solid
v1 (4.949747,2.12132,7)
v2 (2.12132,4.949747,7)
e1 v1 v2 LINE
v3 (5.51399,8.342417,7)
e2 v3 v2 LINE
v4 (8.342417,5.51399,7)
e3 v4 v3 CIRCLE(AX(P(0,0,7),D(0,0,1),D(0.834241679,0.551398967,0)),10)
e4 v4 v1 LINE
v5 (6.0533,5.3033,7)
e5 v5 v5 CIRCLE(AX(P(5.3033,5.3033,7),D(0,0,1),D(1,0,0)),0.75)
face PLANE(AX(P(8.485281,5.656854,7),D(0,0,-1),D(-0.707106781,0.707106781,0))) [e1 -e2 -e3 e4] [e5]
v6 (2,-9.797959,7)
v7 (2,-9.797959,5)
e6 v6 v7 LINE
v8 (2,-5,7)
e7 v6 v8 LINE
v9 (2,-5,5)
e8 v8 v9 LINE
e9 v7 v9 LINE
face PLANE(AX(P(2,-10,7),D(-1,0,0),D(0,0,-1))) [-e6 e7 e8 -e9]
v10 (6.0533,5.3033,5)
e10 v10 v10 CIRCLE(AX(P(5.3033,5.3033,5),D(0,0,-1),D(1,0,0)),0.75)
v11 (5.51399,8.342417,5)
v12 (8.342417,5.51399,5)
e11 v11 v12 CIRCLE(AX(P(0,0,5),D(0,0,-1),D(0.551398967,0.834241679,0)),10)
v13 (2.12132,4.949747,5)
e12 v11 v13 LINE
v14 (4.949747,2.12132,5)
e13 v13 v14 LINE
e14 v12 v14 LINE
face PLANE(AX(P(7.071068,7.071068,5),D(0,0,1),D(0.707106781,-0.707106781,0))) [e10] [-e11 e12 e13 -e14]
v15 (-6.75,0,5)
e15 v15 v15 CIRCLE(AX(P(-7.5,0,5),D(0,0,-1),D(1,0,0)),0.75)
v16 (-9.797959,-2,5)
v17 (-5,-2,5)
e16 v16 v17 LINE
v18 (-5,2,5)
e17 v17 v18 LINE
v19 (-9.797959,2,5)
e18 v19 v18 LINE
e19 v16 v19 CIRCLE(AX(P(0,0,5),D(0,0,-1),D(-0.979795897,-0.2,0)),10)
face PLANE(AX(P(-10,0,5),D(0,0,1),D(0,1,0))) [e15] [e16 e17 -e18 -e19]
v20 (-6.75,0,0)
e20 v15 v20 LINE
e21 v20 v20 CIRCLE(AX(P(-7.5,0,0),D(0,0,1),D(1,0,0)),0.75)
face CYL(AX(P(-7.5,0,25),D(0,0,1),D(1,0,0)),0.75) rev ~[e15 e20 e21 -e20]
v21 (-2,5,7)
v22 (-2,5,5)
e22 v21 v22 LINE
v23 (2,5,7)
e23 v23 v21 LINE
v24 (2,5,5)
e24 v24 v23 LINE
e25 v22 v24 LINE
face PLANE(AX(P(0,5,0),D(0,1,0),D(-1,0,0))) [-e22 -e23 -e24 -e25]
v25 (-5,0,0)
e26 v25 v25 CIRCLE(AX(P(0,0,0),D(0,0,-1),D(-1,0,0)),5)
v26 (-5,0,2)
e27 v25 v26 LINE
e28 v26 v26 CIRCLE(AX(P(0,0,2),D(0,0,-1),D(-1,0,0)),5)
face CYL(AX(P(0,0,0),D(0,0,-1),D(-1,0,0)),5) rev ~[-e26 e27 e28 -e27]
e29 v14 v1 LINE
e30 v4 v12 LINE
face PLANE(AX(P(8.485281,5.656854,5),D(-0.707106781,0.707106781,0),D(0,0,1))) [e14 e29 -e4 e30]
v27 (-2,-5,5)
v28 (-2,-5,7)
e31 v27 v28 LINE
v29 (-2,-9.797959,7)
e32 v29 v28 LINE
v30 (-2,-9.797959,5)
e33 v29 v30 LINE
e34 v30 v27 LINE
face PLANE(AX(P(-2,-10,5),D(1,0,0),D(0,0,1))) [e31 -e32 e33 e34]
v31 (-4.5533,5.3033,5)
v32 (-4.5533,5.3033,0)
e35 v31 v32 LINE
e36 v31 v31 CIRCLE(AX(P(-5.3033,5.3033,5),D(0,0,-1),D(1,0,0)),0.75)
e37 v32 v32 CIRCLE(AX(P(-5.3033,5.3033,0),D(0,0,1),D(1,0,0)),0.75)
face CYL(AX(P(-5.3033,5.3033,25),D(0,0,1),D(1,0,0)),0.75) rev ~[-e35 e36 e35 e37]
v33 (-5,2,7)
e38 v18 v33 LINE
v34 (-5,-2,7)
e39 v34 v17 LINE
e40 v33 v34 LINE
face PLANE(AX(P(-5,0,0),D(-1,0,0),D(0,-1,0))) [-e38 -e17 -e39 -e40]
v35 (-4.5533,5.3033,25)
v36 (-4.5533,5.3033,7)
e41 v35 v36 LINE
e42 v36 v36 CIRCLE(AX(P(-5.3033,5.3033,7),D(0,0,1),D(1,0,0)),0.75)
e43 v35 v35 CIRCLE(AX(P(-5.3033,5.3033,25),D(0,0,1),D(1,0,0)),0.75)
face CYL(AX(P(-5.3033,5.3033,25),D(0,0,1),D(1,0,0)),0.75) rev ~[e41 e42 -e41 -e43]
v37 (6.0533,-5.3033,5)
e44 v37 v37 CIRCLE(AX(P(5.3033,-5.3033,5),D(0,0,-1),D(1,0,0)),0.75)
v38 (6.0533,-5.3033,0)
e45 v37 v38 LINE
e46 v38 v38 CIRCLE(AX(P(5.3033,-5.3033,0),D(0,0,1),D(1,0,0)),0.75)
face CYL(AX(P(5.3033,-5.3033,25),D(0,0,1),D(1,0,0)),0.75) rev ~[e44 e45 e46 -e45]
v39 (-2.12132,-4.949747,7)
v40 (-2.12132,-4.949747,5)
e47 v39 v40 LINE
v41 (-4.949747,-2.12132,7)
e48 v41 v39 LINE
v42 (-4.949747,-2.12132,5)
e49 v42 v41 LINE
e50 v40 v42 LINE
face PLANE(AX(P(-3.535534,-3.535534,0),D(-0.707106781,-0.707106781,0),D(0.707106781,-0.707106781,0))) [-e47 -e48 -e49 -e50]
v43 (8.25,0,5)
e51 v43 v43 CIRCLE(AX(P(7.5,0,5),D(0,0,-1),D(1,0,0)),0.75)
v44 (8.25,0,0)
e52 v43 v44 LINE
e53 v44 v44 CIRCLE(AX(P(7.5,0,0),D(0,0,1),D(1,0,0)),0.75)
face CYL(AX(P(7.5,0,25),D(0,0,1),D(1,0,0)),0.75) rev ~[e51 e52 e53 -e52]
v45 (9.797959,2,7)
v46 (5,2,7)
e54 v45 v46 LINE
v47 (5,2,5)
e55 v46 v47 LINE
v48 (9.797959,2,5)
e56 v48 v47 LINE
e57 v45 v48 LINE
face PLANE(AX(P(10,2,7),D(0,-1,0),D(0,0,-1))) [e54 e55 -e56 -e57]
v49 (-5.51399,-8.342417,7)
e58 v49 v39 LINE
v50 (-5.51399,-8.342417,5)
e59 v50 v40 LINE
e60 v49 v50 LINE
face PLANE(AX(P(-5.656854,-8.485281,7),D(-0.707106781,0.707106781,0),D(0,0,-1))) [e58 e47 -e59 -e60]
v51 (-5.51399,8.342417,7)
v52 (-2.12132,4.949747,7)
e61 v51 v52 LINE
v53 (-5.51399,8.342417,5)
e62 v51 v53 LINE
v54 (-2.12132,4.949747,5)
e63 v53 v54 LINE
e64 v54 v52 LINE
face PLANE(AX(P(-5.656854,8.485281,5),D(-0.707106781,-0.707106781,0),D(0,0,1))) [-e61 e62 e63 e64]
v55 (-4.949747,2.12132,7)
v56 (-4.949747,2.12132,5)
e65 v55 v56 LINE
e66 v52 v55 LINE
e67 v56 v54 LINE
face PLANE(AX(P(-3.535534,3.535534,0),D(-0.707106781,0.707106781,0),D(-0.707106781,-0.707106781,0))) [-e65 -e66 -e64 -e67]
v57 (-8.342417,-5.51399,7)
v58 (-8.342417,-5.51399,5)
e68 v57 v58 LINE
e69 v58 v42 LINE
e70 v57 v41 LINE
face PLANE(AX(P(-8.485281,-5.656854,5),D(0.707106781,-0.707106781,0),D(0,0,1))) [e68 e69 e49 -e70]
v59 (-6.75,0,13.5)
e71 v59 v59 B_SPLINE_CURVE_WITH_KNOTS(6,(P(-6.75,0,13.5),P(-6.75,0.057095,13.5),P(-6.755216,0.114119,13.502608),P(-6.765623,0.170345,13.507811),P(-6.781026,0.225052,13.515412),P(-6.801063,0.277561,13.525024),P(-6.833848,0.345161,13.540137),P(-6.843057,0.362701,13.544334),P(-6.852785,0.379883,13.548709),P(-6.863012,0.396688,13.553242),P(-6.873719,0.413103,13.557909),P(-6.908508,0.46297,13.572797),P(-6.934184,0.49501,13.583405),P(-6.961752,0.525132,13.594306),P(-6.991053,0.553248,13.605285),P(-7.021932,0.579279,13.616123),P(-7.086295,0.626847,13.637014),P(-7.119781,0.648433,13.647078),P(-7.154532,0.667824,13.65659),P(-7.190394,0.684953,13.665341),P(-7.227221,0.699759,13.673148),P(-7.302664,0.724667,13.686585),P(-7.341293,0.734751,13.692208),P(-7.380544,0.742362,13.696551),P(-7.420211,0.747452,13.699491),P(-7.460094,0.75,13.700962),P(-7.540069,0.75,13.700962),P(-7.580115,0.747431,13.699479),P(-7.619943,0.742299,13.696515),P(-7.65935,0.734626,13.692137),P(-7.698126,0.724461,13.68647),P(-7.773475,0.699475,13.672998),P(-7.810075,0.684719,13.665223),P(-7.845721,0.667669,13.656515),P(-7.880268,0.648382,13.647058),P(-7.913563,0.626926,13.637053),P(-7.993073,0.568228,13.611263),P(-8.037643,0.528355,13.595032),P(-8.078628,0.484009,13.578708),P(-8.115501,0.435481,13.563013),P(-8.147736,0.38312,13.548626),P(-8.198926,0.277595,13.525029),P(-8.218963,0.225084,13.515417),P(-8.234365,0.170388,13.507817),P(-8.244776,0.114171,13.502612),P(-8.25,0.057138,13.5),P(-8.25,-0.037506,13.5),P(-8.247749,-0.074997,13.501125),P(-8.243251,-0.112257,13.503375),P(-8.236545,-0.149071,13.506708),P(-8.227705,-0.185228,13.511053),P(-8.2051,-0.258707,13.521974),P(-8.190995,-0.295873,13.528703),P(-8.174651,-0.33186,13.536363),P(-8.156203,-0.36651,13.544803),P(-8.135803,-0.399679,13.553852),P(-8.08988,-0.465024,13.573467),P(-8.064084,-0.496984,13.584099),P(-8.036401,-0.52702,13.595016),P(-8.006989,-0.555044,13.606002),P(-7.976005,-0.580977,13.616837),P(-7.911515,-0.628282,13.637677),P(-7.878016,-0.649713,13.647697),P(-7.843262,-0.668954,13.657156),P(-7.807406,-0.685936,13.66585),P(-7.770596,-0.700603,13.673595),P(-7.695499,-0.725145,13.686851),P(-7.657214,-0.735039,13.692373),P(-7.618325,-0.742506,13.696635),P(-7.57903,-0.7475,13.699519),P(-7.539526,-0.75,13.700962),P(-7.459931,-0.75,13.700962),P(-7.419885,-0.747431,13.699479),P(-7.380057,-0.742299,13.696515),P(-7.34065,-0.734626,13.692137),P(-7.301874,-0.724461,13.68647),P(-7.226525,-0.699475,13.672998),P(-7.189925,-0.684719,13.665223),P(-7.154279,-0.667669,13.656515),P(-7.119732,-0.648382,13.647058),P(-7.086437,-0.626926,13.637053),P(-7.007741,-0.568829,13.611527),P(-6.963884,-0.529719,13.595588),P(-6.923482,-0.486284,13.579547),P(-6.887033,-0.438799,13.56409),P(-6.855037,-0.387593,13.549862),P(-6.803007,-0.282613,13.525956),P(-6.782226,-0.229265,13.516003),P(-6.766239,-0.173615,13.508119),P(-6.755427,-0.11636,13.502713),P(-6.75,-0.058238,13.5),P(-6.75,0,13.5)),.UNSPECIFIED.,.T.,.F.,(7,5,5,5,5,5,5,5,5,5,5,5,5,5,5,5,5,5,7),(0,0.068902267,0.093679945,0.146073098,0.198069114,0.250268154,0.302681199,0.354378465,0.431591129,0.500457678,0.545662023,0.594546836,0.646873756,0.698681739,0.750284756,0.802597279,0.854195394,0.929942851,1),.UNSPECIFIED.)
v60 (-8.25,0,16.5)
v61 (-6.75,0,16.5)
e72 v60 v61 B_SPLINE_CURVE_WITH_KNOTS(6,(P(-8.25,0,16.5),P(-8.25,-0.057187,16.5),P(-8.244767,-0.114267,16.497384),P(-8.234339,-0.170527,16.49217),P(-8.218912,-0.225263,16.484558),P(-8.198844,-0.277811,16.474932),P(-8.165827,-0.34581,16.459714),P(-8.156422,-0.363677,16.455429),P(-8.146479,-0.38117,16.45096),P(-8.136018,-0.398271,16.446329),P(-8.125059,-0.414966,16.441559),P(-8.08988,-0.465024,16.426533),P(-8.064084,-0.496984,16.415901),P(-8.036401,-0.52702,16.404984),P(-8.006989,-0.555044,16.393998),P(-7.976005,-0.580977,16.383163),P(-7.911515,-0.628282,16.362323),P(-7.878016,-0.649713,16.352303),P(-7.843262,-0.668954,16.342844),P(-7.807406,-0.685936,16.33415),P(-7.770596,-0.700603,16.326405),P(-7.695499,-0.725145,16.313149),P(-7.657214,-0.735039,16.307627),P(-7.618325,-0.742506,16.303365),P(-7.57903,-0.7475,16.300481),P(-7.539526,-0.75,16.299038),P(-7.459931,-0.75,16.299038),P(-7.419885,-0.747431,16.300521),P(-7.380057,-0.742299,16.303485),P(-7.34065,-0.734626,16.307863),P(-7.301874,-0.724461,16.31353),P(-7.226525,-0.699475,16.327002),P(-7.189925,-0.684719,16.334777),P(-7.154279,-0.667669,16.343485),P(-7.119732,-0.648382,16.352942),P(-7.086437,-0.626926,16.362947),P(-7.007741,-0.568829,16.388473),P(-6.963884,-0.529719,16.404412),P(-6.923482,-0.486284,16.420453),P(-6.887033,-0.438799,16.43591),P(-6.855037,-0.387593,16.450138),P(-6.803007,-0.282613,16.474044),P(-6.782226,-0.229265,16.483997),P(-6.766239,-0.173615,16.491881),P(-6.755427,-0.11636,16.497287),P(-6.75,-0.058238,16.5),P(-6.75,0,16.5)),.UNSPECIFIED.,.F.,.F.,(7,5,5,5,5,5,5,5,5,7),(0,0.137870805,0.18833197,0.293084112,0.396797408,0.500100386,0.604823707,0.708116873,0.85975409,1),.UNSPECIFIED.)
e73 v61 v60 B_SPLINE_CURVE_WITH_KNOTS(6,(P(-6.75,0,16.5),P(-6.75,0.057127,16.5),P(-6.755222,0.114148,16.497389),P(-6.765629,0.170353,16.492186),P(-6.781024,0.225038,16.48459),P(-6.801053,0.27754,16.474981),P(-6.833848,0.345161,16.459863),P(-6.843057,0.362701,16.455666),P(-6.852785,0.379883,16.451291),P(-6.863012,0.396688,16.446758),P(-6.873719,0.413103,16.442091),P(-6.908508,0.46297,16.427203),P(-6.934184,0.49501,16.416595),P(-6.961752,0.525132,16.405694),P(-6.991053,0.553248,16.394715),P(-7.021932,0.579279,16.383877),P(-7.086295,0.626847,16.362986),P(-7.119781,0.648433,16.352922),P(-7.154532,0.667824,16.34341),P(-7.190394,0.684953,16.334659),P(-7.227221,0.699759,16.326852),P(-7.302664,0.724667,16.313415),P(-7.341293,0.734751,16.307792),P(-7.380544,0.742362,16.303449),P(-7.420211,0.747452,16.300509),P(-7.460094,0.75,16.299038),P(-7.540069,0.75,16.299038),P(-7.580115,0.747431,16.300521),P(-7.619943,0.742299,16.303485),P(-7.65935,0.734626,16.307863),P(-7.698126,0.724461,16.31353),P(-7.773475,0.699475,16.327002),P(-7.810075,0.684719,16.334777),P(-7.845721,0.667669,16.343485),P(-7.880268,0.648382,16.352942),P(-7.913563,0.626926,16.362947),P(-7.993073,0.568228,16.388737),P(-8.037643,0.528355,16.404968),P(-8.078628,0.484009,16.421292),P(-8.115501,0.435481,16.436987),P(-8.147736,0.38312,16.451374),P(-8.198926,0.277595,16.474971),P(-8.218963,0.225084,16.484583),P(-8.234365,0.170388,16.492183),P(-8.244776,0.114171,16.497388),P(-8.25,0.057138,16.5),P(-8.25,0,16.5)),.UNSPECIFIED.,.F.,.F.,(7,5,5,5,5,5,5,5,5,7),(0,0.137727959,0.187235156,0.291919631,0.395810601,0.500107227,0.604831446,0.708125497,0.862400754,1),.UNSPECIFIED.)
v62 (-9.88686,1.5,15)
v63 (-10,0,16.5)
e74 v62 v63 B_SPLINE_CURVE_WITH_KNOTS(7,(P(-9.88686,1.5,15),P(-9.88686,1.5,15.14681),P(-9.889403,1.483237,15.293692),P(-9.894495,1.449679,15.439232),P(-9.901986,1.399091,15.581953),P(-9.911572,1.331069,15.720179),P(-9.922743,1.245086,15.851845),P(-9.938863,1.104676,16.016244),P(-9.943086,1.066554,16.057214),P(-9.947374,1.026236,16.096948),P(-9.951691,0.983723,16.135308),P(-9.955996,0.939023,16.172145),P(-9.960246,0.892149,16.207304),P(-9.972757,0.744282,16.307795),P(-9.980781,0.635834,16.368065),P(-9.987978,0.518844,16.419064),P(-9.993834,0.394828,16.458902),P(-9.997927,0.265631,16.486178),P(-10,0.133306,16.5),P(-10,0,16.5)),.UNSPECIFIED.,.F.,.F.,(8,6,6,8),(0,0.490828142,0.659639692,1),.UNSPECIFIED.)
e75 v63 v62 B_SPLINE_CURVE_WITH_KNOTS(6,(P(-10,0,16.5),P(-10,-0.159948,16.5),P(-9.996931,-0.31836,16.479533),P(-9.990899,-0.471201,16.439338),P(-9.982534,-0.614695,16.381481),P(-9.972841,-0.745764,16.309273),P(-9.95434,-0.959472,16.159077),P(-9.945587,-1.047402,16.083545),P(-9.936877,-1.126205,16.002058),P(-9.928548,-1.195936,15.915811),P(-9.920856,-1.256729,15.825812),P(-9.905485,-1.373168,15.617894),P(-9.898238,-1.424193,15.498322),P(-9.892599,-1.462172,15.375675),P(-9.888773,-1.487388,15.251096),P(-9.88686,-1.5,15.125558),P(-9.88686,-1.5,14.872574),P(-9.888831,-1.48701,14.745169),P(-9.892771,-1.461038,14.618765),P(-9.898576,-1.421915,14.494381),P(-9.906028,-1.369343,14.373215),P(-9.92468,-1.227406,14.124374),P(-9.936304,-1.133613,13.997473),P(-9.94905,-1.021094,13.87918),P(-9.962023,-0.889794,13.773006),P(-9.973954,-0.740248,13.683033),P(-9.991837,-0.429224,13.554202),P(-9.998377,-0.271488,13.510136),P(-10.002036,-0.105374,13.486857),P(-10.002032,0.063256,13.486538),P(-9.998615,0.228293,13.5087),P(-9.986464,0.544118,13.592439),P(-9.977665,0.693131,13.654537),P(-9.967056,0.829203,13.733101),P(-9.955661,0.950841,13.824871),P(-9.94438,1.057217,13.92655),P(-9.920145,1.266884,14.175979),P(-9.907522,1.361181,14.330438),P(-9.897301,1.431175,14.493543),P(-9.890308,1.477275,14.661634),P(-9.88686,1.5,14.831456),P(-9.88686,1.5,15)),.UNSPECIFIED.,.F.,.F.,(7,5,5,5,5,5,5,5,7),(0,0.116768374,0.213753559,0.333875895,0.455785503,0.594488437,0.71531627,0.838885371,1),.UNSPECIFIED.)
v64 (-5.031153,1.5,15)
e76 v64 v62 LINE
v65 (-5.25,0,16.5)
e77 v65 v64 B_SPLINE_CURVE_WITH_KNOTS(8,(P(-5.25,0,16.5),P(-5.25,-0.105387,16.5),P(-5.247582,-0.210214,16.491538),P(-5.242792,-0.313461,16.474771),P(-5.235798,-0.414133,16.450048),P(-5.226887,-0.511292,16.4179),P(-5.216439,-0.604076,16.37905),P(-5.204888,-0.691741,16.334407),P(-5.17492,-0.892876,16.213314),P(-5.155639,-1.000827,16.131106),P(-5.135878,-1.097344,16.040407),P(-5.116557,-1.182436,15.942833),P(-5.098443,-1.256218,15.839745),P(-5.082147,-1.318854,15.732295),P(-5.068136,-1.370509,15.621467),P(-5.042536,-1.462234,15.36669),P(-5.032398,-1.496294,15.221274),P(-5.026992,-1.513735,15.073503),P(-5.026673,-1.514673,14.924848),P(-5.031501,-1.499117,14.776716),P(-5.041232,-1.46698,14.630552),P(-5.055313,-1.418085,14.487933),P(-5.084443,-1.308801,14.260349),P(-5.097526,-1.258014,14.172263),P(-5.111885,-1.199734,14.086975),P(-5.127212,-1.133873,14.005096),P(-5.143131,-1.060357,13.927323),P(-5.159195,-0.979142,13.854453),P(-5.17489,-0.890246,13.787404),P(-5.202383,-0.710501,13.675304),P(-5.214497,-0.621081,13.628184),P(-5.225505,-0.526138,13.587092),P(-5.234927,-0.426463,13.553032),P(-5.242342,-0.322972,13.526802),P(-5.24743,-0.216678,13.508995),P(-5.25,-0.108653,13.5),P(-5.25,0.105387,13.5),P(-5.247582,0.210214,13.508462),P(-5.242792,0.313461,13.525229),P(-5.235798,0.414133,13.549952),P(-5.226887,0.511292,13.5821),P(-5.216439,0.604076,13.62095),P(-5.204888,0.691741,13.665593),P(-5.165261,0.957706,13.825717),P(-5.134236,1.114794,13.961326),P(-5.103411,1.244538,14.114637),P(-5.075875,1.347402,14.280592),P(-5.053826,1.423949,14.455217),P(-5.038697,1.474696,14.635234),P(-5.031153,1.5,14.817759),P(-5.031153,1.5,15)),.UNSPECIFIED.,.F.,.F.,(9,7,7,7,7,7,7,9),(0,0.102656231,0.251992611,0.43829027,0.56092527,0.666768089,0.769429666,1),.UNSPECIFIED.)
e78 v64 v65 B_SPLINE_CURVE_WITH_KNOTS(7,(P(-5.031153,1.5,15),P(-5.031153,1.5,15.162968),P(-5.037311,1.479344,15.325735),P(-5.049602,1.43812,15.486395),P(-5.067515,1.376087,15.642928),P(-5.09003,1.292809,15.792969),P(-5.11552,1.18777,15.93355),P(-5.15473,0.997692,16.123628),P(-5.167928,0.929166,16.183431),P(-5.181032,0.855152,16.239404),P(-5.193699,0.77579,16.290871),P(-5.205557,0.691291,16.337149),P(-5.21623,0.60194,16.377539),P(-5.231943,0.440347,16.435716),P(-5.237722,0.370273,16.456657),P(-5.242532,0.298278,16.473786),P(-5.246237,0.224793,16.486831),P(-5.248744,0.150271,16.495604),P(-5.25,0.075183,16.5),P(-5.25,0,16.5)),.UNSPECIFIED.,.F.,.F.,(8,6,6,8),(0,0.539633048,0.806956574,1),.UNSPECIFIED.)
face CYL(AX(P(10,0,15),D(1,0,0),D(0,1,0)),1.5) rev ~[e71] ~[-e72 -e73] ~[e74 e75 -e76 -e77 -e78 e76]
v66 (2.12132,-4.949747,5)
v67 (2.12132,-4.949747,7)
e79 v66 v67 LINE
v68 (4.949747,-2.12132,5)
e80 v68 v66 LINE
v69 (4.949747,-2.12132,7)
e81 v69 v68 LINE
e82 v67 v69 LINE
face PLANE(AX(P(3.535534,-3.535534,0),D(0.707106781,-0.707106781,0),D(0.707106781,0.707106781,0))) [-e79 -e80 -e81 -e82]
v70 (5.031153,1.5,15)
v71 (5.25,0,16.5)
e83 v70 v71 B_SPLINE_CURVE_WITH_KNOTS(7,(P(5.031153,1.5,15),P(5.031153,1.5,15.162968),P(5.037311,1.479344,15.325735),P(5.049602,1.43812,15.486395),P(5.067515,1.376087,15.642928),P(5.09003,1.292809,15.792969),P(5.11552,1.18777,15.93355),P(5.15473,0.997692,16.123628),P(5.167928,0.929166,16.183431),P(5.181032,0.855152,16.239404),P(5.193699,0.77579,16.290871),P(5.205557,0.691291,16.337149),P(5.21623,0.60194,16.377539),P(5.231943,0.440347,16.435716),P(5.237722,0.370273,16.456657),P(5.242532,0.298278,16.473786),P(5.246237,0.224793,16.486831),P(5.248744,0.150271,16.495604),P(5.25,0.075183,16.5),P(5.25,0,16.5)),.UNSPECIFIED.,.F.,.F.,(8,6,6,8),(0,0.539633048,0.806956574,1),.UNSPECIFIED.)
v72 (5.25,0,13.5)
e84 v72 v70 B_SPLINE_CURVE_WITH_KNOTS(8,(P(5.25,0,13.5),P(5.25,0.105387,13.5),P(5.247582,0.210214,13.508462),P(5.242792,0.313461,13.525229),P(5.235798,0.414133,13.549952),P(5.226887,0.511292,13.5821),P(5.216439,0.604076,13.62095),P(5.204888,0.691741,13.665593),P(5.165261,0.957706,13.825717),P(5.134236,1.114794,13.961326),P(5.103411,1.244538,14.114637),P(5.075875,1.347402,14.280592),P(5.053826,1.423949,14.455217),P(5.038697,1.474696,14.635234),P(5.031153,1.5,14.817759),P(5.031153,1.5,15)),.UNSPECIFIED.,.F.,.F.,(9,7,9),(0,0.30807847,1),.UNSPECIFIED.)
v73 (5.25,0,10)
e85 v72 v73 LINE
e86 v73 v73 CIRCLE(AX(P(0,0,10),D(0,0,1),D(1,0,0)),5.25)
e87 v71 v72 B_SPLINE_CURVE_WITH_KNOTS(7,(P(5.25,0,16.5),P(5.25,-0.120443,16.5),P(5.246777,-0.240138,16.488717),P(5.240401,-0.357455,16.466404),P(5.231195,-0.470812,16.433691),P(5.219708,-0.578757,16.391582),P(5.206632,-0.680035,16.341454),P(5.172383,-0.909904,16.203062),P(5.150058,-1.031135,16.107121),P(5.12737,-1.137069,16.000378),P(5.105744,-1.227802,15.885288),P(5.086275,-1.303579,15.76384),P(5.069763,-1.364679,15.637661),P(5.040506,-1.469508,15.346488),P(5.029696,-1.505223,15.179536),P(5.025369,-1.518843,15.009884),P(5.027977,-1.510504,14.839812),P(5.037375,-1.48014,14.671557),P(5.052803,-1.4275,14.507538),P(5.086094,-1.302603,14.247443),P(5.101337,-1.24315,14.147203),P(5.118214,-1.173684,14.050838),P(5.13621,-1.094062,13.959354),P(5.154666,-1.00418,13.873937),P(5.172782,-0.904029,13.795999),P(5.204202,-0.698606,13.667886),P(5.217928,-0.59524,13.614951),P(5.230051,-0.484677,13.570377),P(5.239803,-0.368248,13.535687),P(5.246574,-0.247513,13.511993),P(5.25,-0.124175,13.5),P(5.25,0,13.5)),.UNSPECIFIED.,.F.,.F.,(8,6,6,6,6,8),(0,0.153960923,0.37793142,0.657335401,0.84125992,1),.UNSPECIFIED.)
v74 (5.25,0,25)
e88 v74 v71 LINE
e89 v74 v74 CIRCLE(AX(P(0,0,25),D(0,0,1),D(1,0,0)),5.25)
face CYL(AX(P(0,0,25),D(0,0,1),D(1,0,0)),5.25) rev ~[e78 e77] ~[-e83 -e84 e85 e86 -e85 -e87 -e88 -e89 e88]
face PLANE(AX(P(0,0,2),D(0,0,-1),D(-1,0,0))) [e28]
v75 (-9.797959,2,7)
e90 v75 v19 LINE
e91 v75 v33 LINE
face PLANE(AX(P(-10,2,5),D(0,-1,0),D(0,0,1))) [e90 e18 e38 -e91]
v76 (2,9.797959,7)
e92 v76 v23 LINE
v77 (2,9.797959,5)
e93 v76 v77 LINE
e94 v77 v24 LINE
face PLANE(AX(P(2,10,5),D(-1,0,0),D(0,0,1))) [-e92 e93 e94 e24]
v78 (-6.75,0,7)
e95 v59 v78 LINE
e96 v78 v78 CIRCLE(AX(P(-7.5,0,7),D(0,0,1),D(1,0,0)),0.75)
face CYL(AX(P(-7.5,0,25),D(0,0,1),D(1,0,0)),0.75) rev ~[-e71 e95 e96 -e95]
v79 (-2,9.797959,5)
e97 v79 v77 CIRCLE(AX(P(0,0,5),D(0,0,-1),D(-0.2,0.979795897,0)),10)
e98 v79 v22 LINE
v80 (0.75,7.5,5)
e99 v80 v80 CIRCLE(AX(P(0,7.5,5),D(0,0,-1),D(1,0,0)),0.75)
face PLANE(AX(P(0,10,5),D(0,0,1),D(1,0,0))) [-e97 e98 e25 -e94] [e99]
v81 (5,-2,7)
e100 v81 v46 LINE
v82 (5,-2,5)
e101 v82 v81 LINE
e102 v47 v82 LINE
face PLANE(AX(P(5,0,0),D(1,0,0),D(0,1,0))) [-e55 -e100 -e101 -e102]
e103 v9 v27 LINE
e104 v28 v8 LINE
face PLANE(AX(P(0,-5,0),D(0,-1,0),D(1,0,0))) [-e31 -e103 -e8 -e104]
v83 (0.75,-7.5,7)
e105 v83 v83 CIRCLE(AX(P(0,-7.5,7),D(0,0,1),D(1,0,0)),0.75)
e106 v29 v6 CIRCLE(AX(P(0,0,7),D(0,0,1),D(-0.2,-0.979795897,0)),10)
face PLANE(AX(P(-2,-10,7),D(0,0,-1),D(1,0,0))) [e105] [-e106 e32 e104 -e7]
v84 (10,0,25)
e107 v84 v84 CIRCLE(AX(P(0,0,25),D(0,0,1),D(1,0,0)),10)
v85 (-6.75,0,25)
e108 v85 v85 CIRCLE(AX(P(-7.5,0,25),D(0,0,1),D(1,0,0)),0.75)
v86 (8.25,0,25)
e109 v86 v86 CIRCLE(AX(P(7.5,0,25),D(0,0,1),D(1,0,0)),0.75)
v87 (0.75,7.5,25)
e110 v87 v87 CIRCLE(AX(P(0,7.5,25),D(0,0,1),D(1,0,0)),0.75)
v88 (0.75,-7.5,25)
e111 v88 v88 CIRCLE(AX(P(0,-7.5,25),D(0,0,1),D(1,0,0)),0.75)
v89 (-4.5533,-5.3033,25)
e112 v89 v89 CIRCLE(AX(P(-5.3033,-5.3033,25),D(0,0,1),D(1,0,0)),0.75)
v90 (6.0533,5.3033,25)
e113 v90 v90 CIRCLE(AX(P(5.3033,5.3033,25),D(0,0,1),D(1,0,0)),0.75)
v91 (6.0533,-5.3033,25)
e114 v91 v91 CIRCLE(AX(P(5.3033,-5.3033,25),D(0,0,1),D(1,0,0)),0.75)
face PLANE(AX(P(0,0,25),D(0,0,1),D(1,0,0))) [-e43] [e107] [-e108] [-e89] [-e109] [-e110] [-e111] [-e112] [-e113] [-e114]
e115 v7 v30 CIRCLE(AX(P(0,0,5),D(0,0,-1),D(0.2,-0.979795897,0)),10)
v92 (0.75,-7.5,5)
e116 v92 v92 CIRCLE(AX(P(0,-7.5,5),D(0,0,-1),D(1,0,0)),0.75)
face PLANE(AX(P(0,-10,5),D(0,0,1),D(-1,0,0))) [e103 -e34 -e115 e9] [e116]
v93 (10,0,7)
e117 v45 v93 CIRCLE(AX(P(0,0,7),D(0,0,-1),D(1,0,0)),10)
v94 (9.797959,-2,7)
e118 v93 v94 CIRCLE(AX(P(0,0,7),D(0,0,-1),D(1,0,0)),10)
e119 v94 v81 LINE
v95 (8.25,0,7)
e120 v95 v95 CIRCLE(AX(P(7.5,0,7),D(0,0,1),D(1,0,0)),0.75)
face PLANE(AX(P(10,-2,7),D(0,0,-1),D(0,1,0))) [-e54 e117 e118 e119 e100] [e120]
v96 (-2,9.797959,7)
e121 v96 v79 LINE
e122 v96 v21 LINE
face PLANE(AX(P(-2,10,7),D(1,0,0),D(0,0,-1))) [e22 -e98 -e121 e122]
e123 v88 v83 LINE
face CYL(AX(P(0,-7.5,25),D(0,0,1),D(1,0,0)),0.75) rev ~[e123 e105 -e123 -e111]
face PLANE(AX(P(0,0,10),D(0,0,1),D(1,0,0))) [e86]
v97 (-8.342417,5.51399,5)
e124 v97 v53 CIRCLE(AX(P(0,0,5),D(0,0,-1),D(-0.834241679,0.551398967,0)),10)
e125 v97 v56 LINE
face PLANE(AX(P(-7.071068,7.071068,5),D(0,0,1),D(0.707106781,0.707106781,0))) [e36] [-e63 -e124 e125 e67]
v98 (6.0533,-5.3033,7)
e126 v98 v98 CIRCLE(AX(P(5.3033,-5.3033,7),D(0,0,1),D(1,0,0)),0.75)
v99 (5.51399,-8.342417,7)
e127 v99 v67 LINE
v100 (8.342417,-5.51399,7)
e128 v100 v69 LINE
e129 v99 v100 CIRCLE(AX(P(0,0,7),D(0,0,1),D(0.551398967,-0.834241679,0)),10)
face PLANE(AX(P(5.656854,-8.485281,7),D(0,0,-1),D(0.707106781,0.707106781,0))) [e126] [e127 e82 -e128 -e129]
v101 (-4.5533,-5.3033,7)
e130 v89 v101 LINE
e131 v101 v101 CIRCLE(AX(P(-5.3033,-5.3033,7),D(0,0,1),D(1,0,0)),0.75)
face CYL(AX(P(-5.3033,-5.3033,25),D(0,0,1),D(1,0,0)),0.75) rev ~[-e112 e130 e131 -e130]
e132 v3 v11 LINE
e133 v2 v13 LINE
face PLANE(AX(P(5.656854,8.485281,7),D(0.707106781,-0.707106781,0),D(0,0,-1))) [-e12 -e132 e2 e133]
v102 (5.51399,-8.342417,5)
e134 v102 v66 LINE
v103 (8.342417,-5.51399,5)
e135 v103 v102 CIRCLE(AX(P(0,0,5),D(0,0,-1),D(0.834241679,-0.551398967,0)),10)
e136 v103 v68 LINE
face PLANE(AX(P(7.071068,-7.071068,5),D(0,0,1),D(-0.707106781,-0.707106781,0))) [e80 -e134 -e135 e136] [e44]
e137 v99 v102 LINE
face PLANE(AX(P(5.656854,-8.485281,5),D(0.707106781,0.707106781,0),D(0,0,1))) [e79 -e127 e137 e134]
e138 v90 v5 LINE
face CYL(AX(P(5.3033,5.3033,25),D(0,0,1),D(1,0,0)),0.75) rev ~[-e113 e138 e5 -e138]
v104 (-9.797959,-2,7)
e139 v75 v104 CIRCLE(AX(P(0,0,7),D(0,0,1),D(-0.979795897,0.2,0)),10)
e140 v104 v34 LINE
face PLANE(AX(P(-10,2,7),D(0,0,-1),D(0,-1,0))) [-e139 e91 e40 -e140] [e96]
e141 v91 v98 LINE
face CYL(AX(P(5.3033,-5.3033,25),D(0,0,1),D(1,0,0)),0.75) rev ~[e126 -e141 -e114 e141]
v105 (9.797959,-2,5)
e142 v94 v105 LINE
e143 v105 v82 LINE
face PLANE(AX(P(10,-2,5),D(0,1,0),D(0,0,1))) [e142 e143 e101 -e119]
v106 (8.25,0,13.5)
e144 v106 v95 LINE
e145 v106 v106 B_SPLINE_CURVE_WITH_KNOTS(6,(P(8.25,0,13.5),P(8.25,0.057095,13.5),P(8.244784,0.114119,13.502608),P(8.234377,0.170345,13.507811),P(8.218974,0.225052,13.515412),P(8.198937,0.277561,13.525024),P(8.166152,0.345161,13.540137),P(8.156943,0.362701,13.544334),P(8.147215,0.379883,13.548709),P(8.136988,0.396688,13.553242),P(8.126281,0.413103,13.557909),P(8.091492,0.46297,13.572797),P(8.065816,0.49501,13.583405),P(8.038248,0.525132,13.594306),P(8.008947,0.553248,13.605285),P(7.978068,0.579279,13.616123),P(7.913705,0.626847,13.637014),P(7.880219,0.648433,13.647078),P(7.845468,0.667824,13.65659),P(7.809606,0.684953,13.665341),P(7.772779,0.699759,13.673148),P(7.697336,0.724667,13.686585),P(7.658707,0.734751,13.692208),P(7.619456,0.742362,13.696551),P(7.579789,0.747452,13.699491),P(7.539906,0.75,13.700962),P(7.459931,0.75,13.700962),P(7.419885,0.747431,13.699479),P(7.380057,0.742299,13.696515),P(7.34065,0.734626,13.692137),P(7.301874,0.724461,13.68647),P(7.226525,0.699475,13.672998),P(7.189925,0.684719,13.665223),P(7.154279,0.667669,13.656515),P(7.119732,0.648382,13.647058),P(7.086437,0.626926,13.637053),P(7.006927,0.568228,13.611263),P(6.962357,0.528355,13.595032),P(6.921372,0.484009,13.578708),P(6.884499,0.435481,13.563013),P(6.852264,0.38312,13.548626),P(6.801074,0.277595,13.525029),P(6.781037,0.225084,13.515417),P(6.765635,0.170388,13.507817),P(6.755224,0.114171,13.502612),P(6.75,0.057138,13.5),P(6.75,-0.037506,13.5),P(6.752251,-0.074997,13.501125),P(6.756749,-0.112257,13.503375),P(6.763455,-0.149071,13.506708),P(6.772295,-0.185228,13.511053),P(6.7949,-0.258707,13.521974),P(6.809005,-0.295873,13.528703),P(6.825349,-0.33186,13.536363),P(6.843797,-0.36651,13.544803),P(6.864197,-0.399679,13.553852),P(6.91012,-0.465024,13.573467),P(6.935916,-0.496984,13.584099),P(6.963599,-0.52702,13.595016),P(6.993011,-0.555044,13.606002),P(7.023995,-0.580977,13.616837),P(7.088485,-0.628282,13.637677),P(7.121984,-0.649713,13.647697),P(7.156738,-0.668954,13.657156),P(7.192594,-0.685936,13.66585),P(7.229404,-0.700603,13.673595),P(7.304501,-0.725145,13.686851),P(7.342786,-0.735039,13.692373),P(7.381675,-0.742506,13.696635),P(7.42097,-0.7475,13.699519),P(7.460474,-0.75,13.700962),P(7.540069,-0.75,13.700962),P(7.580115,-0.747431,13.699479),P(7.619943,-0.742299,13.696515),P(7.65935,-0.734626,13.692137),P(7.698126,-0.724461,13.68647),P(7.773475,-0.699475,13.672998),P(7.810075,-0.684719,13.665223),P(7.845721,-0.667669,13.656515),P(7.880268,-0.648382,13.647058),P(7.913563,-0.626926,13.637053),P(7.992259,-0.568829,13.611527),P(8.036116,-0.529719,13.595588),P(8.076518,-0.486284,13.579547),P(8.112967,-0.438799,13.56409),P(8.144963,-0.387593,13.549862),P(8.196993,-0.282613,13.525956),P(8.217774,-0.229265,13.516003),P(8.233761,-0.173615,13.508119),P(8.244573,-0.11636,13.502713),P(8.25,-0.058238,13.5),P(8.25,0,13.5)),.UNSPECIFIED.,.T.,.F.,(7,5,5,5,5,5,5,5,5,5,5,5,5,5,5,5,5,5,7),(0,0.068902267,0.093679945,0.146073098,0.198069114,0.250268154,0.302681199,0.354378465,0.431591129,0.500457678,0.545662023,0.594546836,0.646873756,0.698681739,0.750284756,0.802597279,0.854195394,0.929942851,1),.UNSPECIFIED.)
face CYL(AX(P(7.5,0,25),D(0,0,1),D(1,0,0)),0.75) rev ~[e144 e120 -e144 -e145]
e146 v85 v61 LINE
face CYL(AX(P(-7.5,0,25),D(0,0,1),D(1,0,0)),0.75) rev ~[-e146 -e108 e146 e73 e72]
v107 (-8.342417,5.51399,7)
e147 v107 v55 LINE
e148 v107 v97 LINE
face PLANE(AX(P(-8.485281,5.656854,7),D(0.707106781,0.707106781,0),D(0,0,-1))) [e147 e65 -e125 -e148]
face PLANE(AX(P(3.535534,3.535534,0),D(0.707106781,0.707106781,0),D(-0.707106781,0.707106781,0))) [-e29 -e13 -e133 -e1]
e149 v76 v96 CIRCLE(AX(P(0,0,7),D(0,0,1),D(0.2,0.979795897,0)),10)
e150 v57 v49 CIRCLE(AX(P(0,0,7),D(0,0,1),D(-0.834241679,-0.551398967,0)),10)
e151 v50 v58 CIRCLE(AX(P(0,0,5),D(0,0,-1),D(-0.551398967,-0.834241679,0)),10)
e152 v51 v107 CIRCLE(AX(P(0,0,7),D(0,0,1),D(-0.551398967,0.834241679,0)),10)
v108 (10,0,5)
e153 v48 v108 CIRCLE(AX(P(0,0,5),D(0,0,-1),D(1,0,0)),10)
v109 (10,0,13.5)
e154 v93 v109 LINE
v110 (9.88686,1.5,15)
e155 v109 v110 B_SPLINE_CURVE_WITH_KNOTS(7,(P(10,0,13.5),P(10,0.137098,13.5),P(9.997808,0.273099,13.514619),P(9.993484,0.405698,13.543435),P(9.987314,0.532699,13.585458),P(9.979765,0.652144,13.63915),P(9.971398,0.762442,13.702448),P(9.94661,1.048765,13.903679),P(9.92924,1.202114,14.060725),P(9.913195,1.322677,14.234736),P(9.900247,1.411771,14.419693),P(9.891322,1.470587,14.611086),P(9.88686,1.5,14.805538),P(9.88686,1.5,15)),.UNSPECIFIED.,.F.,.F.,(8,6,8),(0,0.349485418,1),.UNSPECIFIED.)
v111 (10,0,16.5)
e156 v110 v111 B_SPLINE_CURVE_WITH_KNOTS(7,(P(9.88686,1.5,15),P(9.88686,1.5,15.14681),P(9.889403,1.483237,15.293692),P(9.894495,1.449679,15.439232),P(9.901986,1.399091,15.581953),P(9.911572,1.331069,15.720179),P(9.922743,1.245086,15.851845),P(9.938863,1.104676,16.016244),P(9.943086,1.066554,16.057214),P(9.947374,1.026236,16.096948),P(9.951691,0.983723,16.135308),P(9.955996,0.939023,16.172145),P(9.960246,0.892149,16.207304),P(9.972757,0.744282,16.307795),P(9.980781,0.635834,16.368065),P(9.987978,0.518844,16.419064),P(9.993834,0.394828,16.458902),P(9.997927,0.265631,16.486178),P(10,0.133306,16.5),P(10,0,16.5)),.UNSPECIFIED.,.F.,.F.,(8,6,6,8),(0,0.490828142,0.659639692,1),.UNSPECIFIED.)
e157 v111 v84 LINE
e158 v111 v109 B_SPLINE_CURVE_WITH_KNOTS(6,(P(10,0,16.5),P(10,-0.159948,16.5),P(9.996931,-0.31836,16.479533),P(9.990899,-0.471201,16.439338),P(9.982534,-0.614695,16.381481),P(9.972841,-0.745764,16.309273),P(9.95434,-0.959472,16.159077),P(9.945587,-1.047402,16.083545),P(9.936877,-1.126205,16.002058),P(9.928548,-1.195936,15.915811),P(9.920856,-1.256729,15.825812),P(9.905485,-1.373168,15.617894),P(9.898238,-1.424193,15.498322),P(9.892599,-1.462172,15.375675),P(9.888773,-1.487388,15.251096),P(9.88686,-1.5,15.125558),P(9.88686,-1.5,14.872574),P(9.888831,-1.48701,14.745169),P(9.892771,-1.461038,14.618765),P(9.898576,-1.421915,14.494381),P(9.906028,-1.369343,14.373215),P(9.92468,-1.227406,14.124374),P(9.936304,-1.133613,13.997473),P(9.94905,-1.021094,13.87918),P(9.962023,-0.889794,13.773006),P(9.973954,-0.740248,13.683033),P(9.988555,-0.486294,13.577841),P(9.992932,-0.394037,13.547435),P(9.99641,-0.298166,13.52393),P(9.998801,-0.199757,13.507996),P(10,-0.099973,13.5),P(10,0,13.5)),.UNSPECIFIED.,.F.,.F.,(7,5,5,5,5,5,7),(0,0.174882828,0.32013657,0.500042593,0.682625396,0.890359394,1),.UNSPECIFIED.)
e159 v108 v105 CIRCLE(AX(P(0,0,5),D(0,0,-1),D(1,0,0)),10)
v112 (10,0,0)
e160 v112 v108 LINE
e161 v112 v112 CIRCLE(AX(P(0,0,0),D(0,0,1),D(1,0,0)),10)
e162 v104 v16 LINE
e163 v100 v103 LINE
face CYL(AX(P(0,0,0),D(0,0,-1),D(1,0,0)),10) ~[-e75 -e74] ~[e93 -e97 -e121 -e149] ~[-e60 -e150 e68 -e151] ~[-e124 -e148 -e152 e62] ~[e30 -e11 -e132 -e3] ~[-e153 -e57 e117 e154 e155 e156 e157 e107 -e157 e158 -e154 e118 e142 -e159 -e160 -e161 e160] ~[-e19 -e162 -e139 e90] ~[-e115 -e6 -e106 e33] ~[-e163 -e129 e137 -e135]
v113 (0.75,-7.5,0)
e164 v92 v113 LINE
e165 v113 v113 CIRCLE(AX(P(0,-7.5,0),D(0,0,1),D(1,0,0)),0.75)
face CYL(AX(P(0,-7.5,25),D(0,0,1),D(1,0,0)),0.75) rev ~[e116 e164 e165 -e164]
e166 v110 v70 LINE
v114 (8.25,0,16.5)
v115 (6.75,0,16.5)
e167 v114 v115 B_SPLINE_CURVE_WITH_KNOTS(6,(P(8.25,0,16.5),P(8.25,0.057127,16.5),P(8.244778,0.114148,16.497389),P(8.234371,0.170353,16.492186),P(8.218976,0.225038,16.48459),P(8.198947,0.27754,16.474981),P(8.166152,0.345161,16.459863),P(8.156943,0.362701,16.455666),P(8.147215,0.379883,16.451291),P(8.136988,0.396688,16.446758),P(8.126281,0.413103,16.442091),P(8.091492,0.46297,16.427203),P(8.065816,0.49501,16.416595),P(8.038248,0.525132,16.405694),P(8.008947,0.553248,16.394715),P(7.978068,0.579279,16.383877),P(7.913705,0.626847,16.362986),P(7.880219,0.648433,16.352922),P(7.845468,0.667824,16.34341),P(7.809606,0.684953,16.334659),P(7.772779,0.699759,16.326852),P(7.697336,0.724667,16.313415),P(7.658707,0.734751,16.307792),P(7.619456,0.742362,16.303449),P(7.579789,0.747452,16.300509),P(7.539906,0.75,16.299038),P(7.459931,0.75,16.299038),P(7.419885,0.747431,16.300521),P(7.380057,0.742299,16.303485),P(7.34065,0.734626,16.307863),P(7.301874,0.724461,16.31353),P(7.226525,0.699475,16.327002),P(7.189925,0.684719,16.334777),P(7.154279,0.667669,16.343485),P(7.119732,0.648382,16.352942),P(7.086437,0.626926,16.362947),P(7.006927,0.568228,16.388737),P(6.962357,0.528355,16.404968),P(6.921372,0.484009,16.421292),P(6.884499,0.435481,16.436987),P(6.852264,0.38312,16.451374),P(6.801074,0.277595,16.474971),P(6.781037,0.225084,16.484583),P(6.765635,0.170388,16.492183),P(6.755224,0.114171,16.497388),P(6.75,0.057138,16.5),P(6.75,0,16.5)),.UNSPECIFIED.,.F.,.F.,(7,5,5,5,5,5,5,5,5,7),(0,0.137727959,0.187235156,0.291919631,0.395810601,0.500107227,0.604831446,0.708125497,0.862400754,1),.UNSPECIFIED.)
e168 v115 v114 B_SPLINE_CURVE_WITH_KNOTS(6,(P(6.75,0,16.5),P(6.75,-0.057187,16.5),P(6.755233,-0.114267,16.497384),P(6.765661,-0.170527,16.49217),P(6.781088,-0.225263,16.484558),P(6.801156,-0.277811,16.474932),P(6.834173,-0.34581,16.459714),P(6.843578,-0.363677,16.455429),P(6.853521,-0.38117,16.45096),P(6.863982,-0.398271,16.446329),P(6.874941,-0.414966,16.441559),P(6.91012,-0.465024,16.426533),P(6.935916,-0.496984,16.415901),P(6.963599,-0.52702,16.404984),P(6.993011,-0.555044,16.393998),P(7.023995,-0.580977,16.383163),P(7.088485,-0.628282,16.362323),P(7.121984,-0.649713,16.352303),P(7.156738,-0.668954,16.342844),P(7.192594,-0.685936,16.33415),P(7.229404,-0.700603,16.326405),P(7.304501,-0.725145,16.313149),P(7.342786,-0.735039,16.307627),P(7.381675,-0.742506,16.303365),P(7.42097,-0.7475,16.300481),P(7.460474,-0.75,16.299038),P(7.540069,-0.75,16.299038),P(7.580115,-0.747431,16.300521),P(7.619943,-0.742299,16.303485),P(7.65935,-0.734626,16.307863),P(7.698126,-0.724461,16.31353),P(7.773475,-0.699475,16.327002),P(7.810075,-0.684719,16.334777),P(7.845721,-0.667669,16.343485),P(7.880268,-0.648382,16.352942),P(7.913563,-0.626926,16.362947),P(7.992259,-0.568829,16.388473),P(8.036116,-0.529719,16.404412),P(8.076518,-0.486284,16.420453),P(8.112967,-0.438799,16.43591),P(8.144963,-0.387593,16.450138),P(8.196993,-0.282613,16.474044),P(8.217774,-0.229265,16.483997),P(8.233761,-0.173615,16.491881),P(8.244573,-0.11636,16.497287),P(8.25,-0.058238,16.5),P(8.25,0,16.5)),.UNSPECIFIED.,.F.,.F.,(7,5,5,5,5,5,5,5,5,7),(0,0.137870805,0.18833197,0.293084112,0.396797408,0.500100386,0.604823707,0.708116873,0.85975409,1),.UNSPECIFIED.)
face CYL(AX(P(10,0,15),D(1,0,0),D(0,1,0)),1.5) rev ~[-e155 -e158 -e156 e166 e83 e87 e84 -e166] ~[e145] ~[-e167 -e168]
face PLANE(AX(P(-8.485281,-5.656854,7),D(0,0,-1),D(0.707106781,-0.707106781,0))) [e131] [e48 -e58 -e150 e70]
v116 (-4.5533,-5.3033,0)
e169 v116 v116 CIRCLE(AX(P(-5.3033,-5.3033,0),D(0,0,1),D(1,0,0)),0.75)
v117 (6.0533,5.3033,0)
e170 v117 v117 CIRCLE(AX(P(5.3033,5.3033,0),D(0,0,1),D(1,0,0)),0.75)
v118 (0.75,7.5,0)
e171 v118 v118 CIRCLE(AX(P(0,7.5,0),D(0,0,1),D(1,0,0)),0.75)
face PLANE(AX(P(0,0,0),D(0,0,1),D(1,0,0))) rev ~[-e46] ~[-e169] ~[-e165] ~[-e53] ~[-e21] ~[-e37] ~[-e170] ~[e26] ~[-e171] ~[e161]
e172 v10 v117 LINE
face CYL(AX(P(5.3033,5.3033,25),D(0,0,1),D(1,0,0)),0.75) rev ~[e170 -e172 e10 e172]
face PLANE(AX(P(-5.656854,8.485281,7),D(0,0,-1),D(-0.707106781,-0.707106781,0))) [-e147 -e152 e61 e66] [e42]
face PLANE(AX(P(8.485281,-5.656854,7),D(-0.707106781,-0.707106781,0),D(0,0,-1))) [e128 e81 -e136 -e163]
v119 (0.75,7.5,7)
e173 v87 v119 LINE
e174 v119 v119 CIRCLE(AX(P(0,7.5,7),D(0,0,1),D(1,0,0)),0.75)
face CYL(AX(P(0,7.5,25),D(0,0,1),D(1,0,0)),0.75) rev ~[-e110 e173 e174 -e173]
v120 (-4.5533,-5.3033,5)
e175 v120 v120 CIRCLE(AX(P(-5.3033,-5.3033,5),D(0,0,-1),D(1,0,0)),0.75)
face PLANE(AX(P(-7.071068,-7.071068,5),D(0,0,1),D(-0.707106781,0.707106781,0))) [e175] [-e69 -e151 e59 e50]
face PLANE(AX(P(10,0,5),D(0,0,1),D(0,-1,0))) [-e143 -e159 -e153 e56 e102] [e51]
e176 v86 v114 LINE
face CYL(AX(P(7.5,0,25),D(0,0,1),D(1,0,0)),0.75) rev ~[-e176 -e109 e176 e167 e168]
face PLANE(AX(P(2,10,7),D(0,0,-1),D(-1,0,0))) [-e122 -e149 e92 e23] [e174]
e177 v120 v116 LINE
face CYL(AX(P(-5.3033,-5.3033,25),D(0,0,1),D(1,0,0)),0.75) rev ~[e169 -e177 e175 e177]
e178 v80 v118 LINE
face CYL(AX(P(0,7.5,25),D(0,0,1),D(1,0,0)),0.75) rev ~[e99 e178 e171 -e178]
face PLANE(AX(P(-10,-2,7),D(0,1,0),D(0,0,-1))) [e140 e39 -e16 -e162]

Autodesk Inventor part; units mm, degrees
ref_plane "XZ Plane" through (0, 0, 0) normal (0, 1, 0) x (-1, 0, 0)
ref_plane "XY Plane" through (0, 0, 0) normal (0, 0, 1) x (1, 0, 0)
sketch "Sketch1" plane through (0, 0, 0) normal (0, 0, 1) x (1, 0, 0)
  circle A0 centre (0, 0) radius 10
  dimension "d0" = 20
extrude "Extrusion1" add sketch "Sketch1" along normal blind 25
sketch "Sketch2" plane through (0, 0, 0) normal (0, 0, -1) x (-1, 0, 0)
  circle A0 centre (0, 0) radius 5
  dimension "d3" = 10
extrude "Extrusion2" cut sketch "Sketch2" against normal blind 2
sketch "Sketch3" plane through (0, 0, 25) normal (0, 0, 1) x (1, 0, 0)
  line L0 (0, 0) -> (-7.5, 0)
  circle A0 centre (-7.5, 0) radius 0.75
  circle A1 centre (-5.3033, -5.3033) radius 0.75
  circle A2 centre (0, -7.5) radius 0.75
  circle A3 centre (5.3033, -5.3033) radius 0.75
  circle A4 centre (7.5, 0) radius 0.75
  circle A5 centre (5.3033, 5.3033) radius 0.75
  circle A6 centre (0, 7.5) radius 0.75
  circle A7 centre (-5.3033, 5.3033) radius 0.75
  dimension "d6" = 7.5
  dimension "d7" = 1.5
  dimension "d10" = 360
extrude "Extrusion4" cut sketch "Sketch3" against normal up to surface (25 mm away)
ref_plane "Work Plane1" through (10, 0, 0) normal (1, 0, 0) x (0, 1, 0)
sketch "Sketch5" plane through (10, 0, 0) normal (1, 0, 0) x (0, 1, 0)
  line L0 (0, 0) -> (0, 5)
  line L1 (0, 5) -> (-2, 5)
  line L2 (-2, 5) -> (-2, 7)
  line L3 (-2, 7) -> (2, 7)
  line L4 (2, 7) -> (2, 5)
  line L5 (2, 5) -> (0, 5)
  dimension "d17" = 5
  dimension "d18" = 2
  dimension "d19" = 2
  dimension "d20" = 4
extrude "Extrusion5" cut sketch "Sketch5" against normal blind 5
pattern_circular "Circular Pattern1" count 8 over 360 about axis through (0, 0, 0) along (0, 0, 1) of "Extrusion5"
sketch "Sketch6" plane through (0, 0, 25) normal (0, 0, 1) x (1, 0, 0)
  circle A0 centre (0, 0) radius 5.25
  dimension "d26" = 10.5
extrude "Extrusion6" cut sketch "Sketch6" against normal blind 15
sketch "Sketch7" plane through (10, 0, 0) normal (1, 0, 0) x (0, 1, 0)
  line L0 (10, 25) -> (-10, 25) projected
  line L1 (0, 25) -> (0, 15)
  circle A0 centre (0, 15) radius 1.5
  point P0 (0, 0)
  dimension "d29" = 10
  dimension "d30" = 3
extrude "Extrusion7" cut sketch "Sketch7" against normal through all
equation "\"BendRadius\" = Thickness"
equation "\"BendReliefWidth\" = Thickness"
equation "\"BendReliefDepth\" = 0.5 * Thickness"
equation "\"CornerReliefSize\" = 4 * Thickness"
equation "\"MinimumRemnant\" = 2 * Thickness"
equation "\"TransitionRadius\" = BendRadius"
equation "\"JacobiRadiusSize\" = BendRadius"
equation "\"GapSize\" = Thickness"
equation "\"Thickness\" = 0.5"
properties part number "multiconnectorEndEffector"
